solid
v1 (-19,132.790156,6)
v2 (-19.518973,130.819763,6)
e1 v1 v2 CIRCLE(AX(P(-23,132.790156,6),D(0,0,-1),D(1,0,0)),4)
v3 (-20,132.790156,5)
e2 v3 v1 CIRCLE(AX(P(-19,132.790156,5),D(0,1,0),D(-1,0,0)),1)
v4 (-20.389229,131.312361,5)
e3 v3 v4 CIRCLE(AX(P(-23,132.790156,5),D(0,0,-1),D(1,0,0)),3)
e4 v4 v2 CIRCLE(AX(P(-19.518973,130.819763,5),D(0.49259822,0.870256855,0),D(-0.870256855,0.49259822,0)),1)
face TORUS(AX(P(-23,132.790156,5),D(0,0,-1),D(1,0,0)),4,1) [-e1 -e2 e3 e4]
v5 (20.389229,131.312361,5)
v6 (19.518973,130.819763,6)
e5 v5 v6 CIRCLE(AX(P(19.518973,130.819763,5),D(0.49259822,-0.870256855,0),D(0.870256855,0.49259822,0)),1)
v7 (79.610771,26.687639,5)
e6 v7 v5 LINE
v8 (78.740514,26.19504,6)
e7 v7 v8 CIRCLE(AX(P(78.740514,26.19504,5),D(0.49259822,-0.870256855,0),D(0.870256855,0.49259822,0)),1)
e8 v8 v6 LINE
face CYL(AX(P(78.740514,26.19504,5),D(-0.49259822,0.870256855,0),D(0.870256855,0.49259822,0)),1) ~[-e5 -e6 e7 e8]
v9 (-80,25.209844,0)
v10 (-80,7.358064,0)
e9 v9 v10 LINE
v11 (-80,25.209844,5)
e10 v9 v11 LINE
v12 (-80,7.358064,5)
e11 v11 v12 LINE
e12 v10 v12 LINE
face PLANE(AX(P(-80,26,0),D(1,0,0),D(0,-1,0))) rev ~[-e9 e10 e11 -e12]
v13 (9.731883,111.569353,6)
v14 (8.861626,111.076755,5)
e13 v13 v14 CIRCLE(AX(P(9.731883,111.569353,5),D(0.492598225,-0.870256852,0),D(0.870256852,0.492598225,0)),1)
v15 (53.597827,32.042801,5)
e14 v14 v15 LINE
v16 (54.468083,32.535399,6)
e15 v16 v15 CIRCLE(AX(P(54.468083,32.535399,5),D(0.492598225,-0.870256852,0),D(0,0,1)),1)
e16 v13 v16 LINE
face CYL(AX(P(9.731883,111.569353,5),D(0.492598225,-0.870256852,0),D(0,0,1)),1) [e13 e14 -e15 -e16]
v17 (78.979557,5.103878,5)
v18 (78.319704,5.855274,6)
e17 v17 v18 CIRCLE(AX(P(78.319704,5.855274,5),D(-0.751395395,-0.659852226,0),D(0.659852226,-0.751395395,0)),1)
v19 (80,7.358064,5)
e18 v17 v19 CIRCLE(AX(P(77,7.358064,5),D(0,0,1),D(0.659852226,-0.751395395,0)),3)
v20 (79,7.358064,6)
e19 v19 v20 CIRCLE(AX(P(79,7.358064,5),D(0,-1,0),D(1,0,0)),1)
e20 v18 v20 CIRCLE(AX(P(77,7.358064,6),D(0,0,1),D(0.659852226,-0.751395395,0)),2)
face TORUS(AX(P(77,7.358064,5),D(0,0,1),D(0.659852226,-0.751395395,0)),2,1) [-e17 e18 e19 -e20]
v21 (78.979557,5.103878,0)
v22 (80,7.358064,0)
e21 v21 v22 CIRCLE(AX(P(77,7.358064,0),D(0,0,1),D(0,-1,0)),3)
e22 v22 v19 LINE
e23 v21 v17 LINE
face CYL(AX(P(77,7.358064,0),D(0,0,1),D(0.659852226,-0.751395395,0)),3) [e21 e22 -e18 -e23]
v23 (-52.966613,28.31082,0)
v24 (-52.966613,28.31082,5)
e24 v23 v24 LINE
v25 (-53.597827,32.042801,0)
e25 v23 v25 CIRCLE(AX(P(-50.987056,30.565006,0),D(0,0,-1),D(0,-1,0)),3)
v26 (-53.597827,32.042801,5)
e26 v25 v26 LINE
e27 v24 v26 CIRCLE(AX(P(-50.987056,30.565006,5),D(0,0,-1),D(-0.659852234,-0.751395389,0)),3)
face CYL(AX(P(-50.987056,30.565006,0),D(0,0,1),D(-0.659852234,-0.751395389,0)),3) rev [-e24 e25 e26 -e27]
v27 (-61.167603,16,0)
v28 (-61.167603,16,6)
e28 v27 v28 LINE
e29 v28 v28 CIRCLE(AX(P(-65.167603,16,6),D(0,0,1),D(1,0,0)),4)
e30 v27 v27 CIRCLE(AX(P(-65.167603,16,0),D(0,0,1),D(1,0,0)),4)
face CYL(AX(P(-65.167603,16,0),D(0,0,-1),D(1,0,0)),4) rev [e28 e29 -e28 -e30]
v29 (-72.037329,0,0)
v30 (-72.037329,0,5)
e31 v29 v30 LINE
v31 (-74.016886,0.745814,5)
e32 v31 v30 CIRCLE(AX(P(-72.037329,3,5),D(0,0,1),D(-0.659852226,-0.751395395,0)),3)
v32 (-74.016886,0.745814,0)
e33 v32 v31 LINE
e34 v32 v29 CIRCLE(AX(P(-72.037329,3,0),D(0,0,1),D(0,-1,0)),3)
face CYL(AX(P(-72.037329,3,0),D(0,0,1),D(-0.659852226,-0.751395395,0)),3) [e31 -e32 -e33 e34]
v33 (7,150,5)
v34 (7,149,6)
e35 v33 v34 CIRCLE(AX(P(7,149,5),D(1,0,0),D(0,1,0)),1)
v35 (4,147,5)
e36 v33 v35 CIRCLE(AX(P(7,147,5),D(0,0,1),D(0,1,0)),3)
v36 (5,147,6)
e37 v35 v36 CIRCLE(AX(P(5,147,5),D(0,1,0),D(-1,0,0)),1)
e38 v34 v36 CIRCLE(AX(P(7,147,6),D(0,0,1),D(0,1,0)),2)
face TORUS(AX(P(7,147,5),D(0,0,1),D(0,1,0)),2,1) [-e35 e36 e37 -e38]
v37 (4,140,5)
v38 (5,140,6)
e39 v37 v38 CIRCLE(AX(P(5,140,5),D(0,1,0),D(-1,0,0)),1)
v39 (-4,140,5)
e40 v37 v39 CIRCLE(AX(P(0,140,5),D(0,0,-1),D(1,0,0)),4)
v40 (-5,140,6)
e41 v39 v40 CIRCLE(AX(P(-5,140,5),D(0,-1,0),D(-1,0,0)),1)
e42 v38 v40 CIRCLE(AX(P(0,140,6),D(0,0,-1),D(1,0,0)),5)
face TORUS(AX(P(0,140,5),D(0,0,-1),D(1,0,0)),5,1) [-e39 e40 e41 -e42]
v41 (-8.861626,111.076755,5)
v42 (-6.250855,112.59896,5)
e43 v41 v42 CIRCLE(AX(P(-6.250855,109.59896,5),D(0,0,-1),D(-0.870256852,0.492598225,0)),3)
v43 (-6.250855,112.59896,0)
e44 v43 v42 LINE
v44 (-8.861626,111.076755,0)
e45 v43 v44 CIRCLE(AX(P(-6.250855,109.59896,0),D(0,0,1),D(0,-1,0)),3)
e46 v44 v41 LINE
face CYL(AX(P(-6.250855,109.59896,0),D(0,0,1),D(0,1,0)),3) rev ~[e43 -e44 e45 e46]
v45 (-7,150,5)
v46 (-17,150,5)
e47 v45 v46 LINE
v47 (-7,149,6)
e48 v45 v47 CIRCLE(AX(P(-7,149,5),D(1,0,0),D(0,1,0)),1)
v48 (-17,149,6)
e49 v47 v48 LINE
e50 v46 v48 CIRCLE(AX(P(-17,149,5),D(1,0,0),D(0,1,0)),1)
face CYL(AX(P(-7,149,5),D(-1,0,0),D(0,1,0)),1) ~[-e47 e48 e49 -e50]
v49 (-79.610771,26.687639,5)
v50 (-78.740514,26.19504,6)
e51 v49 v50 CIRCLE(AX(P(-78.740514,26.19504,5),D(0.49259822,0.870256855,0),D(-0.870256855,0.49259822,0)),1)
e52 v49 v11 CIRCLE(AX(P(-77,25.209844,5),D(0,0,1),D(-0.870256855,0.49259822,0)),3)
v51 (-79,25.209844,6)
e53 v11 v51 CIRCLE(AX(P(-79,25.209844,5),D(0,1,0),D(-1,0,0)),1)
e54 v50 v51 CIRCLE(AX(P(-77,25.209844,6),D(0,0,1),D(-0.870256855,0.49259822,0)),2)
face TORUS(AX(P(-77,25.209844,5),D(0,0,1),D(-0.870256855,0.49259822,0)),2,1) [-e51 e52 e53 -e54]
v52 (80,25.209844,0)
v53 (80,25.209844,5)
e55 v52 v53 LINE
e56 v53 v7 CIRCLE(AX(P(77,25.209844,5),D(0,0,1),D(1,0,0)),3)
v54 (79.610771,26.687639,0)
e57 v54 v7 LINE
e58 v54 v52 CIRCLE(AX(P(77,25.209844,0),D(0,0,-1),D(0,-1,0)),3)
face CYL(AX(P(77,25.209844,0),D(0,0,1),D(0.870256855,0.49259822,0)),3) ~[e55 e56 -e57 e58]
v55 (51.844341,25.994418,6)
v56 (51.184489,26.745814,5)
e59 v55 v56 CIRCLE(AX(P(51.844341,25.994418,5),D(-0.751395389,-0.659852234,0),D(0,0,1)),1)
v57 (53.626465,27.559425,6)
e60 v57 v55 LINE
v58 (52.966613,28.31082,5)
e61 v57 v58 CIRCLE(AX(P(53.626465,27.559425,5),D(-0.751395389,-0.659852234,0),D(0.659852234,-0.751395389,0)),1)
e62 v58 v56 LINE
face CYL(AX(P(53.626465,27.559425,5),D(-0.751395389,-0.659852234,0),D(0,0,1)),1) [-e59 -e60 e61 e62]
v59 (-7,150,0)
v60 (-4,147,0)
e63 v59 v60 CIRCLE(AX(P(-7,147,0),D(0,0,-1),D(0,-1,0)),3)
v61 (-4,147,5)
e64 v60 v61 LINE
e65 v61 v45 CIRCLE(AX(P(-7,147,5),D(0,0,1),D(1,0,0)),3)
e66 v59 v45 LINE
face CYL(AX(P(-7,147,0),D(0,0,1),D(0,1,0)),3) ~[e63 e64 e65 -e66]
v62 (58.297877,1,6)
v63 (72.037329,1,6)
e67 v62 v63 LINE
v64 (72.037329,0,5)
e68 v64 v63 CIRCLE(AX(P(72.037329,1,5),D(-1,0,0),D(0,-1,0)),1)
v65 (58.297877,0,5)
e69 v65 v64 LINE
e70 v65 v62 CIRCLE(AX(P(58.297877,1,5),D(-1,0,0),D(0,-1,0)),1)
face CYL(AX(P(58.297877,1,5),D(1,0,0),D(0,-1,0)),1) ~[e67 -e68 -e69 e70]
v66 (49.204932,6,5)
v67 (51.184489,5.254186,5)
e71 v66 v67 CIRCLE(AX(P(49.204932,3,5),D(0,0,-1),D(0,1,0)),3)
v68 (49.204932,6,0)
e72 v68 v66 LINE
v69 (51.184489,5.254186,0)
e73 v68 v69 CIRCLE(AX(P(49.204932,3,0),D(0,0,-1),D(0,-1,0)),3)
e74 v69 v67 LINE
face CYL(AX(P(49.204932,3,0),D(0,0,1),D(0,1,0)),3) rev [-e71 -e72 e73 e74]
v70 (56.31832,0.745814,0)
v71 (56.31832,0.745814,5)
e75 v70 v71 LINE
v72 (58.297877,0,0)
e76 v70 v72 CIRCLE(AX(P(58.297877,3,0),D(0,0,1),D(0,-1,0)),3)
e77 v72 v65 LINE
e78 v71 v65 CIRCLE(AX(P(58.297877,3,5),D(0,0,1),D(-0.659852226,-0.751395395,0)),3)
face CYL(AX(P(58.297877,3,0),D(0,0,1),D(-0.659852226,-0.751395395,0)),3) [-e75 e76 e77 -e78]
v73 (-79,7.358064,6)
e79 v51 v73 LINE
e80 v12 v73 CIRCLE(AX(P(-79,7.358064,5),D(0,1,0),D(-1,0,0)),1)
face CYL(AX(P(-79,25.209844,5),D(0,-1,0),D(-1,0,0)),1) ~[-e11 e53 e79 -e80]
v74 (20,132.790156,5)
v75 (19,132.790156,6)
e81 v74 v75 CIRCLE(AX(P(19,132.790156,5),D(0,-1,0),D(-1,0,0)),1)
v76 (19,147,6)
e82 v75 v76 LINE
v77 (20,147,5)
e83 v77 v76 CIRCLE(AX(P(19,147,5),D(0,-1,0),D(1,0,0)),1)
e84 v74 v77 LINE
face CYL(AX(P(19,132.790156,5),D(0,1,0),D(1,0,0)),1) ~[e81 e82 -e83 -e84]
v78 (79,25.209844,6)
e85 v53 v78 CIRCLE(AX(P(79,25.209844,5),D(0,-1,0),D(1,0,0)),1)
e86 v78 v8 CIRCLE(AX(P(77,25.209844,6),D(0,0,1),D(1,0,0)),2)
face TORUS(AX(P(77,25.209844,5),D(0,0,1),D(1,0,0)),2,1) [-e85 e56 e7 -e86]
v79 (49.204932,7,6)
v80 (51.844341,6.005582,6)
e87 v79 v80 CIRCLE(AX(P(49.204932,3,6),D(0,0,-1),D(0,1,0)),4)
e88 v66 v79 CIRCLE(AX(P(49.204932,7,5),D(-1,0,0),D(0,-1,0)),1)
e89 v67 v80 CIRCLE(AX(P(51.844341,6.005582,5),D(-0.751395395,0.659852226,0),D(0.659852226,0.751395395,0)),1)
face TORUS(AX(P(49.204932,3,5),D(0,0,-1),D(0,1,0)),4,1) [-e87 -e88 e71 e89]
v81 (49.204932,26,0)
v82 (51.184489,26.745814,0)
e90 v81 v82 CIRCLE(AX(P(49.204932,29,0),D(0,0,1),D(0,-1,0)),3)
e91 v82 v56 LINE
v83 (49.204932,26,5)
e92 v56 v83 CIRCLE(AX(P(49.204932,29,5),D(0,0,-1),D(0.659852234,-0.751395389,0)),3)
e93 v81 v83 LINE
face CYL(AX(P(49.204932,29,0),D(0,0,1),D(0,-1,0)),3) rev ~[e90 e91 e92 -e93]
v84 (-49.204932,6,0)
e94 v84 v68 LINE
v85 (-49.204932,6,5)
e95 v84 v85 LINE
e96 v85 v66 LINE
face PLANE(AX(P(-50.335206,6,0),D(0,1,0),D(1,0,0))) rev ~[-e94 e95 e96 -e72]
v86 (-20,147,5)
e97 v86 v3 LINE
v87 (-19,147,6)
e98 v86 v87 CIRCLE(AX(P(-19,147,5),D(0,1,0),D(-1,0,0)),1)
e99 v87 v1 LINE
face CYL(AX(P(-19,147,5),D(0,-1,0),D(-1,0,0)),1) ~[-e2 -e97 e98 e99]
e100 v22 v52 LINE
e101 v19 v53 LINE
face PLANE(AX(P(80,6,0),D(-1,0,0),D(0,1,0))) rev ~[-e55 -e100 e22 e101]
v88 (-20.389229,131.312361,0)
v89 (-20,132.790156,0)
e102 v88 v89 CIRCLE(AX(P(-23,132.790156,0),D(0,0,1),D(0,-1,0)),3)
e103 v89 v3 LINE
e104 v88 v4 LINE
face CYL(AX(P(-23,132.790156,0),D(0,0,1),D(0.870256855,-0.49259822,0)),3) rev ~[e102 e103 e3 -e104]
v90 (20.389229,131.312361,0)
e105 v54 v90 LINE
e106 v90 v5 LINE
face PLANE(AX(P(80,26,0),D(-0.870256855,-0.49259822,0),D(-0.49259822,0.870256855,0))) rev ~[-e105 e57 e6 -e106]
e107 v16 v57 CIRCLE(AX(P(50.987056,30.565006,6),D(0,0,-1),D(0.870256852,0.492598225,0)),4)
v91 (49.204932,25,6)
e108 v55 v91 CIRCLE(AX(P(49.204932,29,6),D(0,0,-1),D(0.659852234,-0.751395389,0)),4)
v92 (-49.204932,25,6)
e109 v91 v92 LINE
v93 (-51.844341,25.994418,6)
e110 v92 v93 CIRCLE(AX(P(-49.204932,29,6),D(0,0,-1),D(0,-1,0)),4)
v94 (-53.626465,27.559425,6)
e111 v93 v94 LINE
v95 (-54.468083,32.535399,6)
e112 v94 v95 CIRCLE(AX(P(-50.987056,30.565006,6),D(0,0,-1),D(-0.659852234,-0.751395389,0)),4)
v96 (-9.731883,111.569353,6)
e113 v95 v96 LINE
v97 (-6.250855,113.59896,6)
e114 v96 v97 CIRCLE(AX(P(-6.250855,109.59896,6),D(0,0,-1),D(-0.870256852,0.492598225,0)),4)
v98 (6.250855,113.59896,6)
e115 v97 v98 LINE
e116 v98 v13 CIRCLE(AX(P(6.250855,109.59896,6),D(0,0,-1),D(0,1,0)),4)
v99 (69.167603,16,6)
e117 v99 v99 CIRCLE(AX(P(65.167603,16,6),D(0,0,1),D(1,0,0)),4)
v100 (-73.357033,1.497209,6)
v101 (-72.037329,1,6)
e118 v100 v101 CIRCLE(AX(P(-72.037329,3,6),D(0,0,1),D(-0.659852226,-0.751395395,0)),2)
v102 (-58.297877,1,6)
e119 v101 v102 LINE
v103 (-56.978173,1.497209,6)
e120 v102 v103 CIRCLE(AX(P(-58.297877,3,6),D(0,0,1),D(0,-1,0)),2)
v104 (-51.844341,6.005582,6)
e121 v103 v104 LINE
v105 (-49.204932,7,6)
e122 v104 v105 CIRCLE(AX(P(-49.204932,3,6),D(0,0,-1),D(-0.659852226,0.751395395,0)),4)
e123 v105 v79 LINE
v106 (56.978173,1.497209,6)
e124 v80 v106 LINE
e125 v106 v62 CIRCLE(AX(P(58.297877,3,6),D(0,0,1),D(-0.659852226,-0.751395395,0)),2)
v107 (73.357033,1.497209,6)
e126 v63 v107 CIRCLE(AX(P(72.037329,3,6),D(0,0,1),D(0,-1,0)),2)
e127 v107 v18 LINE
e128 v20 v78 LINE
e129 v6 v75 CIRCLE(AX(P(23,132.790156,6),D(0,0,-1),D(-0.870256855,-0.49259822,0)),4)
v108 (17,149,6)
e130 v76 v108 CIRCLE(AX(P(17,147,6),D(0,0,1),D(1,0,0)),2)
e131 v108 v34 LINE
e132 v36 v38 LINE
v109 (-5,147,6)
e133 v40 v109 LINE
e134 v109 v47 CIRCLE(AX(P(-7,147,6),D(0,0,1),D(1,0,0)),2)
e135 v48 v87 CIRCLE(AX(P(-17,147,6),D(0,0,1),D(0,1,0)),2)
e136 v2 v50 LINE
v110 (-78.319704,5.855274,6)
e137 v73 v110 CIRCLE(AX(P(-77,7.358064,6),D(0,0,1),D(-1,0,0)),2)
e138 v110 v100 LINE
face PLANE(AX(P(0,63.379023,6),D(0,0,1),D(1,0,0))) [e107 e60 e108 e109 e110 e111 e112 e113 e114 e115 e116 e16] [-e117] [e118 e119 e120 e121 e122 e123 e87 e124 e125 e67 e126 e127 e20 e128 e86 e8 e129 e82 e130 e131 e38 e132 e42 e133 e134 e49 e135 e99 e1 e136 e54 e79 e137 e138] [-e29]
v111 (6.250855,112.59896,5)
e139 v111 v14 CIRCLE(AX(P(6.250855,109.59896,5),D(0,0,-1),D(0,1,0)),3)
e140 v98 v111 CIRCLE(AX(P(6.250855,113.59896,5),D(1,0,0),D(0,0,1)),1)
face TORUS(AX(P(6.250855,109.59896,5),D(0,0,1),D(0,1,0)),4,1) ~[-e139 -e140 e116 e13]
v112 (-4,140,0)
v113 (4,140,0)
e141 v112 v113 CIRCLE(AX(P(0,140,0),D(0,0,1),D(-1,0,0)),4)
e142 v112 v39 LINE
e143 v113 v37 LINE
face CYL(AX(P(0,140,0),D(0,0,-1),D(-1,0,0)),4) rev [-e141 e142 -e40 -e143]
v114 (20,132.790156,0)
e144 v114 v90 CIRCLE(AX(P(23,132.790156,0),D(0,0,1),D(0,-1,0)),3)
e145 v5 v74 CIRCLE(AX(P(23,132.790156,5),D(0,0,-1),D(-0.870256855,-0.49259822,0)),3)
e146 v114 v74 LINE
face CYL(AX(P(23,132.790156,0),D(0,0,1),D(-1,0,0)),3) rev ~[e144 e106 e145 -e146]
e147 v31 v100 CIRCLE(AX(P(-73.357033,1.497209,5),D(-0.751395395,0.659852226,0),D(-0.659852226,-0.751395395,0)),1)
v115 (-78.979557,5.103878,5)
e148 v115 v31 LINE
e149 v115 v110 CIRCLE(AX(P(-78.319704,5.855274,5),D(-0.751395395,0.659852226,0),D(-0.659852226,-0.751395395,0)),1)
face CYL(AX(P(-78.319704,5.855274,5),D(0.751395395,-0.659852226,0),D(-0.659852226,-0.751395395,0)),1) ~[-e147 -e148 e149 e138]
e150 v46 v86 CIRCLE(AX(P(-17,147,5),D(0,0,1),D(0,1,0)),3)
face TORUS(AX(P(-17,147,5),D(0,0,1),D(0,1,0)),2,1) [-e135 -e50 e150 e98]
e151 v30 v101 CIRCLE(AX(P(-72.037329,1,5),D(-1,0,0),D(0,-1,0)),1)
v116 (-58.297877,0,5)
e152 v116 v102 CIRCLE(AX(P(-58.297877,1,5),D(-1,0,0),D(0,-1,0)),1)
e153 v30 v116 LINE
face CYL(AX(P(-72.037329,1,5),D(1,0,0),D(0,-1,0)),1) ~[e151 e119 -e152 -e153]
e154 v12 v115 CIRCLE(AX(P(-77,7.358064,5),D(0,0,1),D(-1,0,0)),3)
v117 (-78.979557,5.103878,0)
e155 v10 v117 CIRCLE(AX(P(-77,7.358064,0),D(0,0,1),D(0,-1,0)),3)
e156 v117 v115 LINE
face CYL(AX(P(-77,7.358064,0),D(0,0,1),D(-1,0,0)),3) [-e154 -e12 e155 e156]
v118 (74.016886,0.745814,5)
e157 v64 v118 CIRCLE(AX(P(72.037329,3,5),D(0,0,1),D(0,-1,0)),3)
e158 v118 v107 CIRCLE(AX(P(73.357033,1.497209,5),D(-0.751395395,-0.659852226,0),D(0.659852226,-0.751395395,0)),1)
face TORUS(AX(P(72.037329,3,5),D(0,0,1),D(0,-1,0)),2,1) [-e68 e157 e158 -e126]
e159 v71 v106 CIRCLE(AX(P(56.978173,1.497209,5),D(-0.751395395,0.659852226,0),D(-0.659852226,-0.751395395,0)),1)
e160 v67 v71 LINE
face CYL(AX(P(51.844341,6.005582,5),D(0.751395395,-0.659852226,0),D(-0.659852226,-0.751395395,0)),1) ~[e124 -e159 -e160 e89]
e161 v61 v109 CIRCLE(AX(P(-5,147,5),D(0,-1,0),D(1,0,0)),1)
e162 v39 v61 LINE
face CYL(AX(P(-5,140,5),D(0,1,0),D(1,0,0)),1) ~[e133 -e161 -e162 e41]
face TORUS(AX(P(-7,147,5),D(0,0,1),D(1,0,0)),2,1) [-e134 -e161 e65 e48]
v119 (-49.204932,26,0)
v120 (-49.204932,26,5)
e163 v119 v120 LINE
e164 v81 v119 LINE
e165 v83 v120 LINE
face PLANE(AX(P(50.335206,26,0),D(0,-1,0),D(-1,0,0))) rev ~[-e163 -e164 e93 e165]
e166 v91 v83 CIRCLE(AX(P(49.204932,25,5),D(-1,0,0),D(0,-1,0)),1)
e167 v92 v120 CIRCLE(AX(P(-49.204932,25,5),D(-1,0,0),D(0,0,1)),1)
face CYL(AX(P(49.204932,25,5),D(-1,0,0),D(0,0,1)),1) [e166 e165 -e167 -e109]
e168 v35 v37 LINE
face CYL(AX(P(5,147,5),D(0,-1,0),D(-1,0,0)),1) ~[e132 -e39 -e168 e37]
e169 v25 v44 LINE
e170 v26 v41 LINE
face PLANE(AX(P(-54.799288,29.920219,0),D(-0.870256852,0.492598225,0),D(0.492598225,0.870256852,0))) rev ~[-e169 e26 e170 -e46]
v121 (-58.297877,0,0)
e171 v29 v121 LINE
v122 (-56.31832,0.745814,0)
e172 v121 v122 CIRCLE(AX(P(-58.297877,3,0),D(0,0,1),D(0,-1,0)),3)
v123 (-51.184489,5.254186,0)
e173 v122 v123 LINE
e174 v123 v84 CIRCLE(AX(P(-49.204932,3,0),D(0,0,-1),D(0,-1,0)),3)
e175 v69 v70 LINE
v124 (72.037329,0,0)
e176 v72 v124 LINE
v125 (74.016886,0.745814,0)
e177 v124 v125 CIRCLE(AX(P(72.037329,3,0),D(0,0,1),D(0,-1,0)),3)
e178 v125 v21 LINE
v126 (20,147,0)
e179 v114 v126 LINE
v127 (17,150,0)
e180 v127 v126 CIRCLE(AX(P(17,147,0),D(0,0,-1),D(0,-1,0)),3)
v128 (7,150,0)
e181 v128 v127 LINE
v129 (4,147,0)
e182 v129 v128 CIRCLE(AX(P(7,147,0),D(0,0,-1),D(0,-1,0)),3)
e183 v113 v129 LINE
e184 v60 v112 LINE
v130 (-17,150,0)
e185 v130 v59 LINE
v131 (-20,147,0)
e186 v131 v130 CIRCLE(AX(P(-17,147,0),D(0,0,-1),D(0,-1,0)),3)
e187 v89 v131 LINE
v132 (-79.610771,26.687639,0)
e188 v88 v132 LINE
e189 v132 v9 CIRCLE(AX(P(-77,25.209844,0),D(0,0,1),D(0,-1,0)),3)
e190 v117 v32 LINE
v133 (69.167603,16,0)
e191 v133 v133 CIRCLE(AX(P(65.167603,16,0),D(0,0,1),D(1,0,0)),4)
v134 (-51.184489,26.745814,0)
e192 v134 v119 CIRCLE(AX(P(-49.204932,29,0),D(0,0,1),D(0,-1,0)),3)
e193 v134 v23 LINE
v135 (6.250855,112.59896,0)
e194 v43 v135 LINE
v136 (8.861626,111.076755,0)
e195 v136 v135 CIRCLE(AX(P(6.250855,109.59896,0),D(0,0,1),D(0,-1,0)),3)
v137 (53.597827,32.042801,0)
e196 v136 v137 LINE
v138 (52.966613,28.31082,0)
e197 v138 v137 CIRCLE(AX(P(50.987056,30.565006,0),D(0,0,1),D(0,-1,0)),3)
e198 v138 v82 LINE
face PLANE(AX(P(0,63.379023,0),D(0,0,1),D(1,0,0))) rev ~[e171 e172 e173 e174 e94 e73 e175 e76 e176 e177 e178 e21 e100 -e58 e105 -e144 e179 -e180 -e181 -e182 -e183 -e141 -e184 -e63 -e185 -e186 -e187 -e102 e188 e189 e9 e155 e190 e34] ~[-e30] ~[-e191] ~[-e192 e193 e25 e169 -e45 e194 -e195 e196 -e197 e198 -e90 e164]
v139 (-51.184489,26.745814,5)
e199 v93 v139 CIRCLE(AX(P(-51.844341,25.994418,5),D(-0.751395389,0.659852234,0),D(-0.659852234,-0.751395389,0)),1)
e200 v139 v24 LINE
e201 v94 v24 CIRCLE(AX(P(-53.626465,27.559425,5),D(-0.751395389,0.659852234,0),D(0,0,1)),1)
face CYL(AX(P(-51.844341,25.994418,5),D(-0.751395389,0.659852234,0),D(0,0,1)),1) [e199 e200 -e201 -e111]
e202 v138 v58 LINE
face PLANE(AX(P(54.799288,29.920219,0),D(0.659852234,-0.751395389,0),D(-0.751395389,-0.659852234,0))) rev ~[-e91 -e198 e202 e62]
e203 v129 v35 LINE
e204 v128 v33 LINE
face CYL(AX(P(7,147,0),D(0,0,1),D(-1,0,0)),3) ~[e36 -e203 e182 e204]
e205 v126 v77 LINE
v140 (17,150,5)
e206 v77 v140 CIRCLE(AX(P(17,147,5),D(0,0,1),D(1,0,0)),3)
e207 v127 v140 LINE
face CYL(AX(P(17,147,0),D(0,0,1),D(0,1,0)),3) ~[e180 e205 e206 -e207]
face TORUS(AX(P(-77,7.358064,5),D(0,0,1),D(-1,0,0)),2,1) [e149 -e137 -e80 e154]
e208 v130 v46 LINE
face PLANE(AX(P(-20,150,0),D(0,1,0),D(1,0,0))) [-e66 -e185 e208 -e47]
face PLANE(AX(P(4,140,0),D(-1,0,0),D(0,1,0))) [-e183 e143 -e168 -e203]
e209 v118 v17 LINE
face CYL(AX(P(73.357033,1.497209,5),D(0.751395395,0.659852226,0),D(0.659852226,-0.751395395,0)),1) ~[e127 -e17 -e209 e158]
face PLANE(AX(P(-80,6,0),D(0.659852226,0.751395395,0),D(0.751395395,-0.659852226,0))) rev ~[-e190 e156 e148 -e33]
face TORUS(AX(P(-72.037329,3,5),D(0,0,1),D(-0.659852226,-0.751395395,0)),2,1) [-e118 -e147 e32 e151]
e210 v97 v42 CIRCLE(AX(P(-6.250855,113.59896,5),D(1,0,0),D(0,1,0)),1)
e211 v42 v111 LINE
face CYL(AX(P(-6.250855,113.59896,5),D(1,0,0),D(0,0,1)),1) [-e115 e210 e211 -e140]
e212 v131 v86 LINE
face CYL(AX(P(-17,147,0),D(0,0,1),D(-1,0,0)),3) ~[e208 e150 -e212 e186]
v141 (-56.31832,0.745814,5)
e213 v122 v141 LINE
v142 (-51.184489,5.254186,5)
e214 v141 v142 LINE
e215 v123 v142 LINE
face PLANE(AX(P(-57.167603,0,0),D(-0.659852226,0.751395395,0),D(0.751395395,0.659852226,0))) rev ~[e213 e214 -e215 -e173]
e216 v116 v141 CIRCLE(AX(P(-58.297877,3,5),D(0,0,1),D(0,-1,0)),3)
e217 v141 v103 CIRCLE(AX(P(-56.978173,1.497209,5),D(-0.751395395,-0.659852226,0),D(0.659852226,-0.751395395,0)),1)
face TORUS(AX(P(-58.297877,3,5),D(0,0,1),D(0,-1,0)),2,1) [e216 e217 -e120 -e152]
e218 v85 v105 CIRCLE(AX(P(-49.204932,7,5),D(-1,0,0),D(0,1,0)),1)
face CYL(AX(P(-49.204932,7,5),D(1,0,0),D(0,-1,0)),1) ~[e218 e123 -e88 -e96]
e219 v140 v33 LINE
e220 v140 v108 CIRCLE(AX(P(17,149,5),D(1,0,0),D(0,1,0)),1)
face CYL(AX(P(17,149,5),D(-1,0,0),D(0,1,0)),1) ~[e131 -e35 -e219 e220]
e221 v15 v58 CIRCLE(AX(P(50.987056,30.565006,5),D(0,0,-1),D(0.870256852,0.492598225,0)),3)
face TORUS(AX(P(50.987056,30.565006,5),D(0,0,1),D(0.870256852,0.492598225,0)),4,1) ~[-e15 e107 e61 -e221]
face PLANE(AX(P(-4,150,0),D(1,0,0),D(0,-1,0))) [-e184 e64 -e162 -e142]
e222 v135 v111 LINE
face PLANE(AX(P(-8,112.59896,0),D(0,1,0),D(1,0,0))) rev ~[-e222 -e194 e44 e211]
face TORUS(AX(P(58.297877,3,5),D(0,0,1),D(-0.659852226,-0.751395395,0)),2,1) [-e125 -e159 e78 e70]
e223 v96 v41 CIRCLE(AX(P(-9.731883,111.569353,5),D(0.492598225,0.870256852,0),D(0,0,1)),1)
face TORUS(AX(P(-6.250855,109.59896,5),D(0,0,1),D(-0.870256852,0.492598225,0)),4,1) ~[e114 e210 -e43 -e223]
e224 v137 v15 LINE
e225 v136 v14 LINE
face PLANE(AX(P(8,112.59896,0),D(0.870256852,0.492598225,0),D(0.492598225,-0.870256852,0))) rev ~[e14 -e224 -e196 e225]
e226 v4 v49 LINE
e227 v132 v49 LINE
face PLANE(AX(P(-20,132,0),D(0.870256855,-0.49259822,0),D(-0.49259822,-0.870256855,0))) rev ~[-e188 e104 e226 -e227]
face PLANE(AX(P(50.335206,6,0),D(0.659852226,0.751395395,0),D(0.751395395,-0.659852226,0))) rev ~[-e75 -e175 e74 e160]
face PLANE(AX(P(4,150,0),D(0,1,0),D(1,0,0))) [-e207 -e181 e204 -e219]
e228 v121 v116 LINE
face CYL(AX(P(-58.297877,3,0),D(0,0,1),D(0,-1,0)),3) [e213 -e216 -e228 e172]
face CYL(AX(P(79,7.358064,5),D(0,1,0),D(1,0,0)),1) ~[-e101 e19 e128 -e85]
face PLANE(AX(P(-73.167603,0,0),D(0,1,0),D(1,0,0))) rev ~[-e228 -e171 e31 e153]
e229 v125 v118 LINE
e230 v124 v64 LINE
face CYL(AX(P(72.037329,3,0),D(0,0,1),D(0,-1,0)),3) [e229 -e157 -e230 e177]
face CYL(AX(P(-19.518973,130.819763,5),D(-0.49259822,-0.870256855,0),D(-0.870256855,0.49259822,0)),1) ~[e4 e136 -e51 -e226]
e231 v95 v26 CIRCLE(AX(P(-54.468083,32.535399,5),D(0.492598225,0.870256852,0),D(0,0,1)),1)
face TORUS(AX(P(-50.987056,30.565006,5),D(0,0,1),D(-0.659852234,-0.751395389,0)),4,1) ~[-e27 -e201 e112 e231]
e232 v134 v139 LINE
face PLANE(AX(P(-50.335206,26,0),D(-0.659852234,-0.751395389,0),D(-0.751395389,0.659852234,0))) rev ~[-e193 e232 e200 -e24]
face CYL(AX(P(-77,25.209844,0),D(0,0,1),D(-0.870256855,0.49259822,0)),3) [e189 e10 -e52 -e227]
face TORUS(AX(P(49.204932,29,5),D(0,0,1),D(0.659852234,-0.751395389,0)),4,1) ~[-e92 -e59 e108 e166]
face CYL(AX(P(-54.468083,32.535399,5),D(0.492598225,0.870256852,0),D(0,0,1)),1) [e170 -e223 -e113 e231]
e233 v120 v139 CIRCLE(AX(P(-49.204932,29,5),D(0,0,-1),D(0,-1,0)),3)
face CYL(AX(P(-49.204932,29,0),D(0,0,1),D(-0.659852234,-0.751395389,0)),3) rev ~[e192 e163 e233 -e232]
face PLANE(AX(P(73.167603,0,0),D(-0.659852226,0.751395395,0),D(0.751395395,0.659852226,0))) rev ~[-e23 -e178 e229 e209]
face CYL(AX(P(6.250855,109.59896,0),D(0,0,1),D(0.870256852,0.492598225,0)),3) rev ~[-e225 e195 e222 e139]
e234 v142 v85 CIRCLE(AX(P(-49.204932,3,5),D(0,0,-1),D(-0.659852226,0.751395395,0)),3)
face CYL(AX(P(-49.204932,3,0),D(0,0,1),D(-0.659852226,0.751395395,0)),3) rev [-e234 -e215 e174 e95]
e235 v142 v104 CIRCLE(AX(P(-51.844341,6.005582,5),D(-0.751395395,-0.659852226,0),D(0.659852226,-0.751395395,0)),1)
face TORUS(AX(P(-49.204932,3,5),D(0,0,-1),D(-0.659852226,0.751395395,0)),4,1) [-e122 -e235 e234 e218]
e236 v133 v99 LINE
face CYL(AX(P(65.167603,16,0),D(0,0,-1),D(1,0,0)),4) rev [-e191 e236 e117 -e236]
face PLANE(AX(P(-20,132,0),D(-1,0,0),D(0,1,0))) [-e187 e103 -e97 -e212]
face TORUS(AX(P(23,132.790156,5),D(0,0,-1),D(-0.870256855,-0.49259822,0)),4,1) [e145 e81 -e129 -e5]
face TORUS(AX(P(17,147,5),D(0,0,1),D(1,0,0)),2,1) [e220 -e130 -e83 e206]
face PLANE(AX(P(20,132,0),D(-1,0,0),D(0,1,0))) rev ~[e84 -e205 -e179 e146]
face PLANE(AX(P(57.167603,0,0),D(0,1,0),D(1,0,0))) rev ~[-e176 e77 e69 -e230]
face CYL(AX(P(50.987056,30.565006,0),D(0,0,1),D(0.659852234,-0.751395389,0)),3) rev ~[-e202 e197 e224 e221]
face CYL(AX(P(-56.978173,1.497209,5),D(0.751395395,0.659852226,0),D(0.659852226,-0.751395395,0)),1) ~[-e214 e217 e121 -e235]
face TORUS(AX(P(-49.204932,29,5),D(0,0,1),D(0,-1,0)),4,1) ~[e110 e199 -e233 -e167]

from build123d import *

# Parameters (mm, degrees)
SKETCH_R    = 4
PAD_DEPTH   = 6
FILLET_R    = 3
FILLET001_R = 1


with BuildPart() as part:
    # Sketch → Pad (new body)
    with BuildSketch(Plane.XY):
        with BuildLine():
            Line((-20, 132), (-80, 26))
            Line((-80, 26), (-80, 6))
            Line((-80, 6), (-73.167603, 0))
            Line((-73.167603, 0), (-57.167603, 0))
            Line((-57.167603, 0), (-50.335206, 6))
            Line((-50.335206, 6), (50.335206, 6))
            Line((50.335206, 6), (57.167603, 0))
            Line((57.167603, 0), (73.167603, 0))
            Line((73.167603, 0), (80, 6))
            Line((80, 6), (80, 26))
            Line((80, 26), (20, 132))
            Line((20, 132), (20, 150))
            Line((4, 150), (20, 150))
            Line((4, 140), (4, 150))
            ThreePointArc((-4, 140), (0, 136), (4, 140))
            Line((-4, 150), (-4, 140))
            Line((-20, 150), (-4, 150))
            Line((-20, 132), (-20, 150))
        make_face()
        with Locations((-65.167603, 16)):
            Circle(SKETCH_R, mode=Mode.SUBTRACT)
        with Locations((65.167603, 16)):
            Circle(SKETCH_R, mode=Mode.SUBTRACT)
        Polygon((-54.799288, 29.920219), (-8, 112.59896), (8, 112.59896), (54.799288, 29.920219), (50.335206, 26), (-50.335206, 26), align=None, mode=Mode.SUBTRACT)
    extrude(amount=PAD_DEPTH)

    # Fillet
    fillet_edges = [part.edges().sort_by_distance(p)[0] for p in [
        (-20, 132, 3),
        (-80, 26, 3),
        (-80, 6, 3),
        (-73.167603, 0, 3),
        (-57.167603, 0, 3),
        (-50.335206, 6, 3),
        (50.335206, 6, 3),
        (57.167603, 0, 3),
        (73.167603, 0, 3),
        (80, 6, 3),
        (80, 26, 3),
        (20, 132, 3),
        (20, 150, 3),
        (4, 150, 3),
        (-4, 150, 3),
        (-20, 150, 3),
        (-54.799288, 29.920219, 3),
        (-8, 112.59896, 3),
        (8, 112.59896, 3),
        (54.799288, 29.920219, 3),
        (50.335206, 26, 3),
        (-50.335206, 26, 3),
    ]]
    fillet(fillet_edges, radius=FILLET_R)

    # Fillet001
    fillet001_edges = [part.edges().sort_by_distance(p)[0] for p in [
        (-50, 79, 6),
        (-31.229726, 71.559778, 6),
    ]]
    fillet(fillet001_edges, radius=FILLET001_R)


solid = part.part
